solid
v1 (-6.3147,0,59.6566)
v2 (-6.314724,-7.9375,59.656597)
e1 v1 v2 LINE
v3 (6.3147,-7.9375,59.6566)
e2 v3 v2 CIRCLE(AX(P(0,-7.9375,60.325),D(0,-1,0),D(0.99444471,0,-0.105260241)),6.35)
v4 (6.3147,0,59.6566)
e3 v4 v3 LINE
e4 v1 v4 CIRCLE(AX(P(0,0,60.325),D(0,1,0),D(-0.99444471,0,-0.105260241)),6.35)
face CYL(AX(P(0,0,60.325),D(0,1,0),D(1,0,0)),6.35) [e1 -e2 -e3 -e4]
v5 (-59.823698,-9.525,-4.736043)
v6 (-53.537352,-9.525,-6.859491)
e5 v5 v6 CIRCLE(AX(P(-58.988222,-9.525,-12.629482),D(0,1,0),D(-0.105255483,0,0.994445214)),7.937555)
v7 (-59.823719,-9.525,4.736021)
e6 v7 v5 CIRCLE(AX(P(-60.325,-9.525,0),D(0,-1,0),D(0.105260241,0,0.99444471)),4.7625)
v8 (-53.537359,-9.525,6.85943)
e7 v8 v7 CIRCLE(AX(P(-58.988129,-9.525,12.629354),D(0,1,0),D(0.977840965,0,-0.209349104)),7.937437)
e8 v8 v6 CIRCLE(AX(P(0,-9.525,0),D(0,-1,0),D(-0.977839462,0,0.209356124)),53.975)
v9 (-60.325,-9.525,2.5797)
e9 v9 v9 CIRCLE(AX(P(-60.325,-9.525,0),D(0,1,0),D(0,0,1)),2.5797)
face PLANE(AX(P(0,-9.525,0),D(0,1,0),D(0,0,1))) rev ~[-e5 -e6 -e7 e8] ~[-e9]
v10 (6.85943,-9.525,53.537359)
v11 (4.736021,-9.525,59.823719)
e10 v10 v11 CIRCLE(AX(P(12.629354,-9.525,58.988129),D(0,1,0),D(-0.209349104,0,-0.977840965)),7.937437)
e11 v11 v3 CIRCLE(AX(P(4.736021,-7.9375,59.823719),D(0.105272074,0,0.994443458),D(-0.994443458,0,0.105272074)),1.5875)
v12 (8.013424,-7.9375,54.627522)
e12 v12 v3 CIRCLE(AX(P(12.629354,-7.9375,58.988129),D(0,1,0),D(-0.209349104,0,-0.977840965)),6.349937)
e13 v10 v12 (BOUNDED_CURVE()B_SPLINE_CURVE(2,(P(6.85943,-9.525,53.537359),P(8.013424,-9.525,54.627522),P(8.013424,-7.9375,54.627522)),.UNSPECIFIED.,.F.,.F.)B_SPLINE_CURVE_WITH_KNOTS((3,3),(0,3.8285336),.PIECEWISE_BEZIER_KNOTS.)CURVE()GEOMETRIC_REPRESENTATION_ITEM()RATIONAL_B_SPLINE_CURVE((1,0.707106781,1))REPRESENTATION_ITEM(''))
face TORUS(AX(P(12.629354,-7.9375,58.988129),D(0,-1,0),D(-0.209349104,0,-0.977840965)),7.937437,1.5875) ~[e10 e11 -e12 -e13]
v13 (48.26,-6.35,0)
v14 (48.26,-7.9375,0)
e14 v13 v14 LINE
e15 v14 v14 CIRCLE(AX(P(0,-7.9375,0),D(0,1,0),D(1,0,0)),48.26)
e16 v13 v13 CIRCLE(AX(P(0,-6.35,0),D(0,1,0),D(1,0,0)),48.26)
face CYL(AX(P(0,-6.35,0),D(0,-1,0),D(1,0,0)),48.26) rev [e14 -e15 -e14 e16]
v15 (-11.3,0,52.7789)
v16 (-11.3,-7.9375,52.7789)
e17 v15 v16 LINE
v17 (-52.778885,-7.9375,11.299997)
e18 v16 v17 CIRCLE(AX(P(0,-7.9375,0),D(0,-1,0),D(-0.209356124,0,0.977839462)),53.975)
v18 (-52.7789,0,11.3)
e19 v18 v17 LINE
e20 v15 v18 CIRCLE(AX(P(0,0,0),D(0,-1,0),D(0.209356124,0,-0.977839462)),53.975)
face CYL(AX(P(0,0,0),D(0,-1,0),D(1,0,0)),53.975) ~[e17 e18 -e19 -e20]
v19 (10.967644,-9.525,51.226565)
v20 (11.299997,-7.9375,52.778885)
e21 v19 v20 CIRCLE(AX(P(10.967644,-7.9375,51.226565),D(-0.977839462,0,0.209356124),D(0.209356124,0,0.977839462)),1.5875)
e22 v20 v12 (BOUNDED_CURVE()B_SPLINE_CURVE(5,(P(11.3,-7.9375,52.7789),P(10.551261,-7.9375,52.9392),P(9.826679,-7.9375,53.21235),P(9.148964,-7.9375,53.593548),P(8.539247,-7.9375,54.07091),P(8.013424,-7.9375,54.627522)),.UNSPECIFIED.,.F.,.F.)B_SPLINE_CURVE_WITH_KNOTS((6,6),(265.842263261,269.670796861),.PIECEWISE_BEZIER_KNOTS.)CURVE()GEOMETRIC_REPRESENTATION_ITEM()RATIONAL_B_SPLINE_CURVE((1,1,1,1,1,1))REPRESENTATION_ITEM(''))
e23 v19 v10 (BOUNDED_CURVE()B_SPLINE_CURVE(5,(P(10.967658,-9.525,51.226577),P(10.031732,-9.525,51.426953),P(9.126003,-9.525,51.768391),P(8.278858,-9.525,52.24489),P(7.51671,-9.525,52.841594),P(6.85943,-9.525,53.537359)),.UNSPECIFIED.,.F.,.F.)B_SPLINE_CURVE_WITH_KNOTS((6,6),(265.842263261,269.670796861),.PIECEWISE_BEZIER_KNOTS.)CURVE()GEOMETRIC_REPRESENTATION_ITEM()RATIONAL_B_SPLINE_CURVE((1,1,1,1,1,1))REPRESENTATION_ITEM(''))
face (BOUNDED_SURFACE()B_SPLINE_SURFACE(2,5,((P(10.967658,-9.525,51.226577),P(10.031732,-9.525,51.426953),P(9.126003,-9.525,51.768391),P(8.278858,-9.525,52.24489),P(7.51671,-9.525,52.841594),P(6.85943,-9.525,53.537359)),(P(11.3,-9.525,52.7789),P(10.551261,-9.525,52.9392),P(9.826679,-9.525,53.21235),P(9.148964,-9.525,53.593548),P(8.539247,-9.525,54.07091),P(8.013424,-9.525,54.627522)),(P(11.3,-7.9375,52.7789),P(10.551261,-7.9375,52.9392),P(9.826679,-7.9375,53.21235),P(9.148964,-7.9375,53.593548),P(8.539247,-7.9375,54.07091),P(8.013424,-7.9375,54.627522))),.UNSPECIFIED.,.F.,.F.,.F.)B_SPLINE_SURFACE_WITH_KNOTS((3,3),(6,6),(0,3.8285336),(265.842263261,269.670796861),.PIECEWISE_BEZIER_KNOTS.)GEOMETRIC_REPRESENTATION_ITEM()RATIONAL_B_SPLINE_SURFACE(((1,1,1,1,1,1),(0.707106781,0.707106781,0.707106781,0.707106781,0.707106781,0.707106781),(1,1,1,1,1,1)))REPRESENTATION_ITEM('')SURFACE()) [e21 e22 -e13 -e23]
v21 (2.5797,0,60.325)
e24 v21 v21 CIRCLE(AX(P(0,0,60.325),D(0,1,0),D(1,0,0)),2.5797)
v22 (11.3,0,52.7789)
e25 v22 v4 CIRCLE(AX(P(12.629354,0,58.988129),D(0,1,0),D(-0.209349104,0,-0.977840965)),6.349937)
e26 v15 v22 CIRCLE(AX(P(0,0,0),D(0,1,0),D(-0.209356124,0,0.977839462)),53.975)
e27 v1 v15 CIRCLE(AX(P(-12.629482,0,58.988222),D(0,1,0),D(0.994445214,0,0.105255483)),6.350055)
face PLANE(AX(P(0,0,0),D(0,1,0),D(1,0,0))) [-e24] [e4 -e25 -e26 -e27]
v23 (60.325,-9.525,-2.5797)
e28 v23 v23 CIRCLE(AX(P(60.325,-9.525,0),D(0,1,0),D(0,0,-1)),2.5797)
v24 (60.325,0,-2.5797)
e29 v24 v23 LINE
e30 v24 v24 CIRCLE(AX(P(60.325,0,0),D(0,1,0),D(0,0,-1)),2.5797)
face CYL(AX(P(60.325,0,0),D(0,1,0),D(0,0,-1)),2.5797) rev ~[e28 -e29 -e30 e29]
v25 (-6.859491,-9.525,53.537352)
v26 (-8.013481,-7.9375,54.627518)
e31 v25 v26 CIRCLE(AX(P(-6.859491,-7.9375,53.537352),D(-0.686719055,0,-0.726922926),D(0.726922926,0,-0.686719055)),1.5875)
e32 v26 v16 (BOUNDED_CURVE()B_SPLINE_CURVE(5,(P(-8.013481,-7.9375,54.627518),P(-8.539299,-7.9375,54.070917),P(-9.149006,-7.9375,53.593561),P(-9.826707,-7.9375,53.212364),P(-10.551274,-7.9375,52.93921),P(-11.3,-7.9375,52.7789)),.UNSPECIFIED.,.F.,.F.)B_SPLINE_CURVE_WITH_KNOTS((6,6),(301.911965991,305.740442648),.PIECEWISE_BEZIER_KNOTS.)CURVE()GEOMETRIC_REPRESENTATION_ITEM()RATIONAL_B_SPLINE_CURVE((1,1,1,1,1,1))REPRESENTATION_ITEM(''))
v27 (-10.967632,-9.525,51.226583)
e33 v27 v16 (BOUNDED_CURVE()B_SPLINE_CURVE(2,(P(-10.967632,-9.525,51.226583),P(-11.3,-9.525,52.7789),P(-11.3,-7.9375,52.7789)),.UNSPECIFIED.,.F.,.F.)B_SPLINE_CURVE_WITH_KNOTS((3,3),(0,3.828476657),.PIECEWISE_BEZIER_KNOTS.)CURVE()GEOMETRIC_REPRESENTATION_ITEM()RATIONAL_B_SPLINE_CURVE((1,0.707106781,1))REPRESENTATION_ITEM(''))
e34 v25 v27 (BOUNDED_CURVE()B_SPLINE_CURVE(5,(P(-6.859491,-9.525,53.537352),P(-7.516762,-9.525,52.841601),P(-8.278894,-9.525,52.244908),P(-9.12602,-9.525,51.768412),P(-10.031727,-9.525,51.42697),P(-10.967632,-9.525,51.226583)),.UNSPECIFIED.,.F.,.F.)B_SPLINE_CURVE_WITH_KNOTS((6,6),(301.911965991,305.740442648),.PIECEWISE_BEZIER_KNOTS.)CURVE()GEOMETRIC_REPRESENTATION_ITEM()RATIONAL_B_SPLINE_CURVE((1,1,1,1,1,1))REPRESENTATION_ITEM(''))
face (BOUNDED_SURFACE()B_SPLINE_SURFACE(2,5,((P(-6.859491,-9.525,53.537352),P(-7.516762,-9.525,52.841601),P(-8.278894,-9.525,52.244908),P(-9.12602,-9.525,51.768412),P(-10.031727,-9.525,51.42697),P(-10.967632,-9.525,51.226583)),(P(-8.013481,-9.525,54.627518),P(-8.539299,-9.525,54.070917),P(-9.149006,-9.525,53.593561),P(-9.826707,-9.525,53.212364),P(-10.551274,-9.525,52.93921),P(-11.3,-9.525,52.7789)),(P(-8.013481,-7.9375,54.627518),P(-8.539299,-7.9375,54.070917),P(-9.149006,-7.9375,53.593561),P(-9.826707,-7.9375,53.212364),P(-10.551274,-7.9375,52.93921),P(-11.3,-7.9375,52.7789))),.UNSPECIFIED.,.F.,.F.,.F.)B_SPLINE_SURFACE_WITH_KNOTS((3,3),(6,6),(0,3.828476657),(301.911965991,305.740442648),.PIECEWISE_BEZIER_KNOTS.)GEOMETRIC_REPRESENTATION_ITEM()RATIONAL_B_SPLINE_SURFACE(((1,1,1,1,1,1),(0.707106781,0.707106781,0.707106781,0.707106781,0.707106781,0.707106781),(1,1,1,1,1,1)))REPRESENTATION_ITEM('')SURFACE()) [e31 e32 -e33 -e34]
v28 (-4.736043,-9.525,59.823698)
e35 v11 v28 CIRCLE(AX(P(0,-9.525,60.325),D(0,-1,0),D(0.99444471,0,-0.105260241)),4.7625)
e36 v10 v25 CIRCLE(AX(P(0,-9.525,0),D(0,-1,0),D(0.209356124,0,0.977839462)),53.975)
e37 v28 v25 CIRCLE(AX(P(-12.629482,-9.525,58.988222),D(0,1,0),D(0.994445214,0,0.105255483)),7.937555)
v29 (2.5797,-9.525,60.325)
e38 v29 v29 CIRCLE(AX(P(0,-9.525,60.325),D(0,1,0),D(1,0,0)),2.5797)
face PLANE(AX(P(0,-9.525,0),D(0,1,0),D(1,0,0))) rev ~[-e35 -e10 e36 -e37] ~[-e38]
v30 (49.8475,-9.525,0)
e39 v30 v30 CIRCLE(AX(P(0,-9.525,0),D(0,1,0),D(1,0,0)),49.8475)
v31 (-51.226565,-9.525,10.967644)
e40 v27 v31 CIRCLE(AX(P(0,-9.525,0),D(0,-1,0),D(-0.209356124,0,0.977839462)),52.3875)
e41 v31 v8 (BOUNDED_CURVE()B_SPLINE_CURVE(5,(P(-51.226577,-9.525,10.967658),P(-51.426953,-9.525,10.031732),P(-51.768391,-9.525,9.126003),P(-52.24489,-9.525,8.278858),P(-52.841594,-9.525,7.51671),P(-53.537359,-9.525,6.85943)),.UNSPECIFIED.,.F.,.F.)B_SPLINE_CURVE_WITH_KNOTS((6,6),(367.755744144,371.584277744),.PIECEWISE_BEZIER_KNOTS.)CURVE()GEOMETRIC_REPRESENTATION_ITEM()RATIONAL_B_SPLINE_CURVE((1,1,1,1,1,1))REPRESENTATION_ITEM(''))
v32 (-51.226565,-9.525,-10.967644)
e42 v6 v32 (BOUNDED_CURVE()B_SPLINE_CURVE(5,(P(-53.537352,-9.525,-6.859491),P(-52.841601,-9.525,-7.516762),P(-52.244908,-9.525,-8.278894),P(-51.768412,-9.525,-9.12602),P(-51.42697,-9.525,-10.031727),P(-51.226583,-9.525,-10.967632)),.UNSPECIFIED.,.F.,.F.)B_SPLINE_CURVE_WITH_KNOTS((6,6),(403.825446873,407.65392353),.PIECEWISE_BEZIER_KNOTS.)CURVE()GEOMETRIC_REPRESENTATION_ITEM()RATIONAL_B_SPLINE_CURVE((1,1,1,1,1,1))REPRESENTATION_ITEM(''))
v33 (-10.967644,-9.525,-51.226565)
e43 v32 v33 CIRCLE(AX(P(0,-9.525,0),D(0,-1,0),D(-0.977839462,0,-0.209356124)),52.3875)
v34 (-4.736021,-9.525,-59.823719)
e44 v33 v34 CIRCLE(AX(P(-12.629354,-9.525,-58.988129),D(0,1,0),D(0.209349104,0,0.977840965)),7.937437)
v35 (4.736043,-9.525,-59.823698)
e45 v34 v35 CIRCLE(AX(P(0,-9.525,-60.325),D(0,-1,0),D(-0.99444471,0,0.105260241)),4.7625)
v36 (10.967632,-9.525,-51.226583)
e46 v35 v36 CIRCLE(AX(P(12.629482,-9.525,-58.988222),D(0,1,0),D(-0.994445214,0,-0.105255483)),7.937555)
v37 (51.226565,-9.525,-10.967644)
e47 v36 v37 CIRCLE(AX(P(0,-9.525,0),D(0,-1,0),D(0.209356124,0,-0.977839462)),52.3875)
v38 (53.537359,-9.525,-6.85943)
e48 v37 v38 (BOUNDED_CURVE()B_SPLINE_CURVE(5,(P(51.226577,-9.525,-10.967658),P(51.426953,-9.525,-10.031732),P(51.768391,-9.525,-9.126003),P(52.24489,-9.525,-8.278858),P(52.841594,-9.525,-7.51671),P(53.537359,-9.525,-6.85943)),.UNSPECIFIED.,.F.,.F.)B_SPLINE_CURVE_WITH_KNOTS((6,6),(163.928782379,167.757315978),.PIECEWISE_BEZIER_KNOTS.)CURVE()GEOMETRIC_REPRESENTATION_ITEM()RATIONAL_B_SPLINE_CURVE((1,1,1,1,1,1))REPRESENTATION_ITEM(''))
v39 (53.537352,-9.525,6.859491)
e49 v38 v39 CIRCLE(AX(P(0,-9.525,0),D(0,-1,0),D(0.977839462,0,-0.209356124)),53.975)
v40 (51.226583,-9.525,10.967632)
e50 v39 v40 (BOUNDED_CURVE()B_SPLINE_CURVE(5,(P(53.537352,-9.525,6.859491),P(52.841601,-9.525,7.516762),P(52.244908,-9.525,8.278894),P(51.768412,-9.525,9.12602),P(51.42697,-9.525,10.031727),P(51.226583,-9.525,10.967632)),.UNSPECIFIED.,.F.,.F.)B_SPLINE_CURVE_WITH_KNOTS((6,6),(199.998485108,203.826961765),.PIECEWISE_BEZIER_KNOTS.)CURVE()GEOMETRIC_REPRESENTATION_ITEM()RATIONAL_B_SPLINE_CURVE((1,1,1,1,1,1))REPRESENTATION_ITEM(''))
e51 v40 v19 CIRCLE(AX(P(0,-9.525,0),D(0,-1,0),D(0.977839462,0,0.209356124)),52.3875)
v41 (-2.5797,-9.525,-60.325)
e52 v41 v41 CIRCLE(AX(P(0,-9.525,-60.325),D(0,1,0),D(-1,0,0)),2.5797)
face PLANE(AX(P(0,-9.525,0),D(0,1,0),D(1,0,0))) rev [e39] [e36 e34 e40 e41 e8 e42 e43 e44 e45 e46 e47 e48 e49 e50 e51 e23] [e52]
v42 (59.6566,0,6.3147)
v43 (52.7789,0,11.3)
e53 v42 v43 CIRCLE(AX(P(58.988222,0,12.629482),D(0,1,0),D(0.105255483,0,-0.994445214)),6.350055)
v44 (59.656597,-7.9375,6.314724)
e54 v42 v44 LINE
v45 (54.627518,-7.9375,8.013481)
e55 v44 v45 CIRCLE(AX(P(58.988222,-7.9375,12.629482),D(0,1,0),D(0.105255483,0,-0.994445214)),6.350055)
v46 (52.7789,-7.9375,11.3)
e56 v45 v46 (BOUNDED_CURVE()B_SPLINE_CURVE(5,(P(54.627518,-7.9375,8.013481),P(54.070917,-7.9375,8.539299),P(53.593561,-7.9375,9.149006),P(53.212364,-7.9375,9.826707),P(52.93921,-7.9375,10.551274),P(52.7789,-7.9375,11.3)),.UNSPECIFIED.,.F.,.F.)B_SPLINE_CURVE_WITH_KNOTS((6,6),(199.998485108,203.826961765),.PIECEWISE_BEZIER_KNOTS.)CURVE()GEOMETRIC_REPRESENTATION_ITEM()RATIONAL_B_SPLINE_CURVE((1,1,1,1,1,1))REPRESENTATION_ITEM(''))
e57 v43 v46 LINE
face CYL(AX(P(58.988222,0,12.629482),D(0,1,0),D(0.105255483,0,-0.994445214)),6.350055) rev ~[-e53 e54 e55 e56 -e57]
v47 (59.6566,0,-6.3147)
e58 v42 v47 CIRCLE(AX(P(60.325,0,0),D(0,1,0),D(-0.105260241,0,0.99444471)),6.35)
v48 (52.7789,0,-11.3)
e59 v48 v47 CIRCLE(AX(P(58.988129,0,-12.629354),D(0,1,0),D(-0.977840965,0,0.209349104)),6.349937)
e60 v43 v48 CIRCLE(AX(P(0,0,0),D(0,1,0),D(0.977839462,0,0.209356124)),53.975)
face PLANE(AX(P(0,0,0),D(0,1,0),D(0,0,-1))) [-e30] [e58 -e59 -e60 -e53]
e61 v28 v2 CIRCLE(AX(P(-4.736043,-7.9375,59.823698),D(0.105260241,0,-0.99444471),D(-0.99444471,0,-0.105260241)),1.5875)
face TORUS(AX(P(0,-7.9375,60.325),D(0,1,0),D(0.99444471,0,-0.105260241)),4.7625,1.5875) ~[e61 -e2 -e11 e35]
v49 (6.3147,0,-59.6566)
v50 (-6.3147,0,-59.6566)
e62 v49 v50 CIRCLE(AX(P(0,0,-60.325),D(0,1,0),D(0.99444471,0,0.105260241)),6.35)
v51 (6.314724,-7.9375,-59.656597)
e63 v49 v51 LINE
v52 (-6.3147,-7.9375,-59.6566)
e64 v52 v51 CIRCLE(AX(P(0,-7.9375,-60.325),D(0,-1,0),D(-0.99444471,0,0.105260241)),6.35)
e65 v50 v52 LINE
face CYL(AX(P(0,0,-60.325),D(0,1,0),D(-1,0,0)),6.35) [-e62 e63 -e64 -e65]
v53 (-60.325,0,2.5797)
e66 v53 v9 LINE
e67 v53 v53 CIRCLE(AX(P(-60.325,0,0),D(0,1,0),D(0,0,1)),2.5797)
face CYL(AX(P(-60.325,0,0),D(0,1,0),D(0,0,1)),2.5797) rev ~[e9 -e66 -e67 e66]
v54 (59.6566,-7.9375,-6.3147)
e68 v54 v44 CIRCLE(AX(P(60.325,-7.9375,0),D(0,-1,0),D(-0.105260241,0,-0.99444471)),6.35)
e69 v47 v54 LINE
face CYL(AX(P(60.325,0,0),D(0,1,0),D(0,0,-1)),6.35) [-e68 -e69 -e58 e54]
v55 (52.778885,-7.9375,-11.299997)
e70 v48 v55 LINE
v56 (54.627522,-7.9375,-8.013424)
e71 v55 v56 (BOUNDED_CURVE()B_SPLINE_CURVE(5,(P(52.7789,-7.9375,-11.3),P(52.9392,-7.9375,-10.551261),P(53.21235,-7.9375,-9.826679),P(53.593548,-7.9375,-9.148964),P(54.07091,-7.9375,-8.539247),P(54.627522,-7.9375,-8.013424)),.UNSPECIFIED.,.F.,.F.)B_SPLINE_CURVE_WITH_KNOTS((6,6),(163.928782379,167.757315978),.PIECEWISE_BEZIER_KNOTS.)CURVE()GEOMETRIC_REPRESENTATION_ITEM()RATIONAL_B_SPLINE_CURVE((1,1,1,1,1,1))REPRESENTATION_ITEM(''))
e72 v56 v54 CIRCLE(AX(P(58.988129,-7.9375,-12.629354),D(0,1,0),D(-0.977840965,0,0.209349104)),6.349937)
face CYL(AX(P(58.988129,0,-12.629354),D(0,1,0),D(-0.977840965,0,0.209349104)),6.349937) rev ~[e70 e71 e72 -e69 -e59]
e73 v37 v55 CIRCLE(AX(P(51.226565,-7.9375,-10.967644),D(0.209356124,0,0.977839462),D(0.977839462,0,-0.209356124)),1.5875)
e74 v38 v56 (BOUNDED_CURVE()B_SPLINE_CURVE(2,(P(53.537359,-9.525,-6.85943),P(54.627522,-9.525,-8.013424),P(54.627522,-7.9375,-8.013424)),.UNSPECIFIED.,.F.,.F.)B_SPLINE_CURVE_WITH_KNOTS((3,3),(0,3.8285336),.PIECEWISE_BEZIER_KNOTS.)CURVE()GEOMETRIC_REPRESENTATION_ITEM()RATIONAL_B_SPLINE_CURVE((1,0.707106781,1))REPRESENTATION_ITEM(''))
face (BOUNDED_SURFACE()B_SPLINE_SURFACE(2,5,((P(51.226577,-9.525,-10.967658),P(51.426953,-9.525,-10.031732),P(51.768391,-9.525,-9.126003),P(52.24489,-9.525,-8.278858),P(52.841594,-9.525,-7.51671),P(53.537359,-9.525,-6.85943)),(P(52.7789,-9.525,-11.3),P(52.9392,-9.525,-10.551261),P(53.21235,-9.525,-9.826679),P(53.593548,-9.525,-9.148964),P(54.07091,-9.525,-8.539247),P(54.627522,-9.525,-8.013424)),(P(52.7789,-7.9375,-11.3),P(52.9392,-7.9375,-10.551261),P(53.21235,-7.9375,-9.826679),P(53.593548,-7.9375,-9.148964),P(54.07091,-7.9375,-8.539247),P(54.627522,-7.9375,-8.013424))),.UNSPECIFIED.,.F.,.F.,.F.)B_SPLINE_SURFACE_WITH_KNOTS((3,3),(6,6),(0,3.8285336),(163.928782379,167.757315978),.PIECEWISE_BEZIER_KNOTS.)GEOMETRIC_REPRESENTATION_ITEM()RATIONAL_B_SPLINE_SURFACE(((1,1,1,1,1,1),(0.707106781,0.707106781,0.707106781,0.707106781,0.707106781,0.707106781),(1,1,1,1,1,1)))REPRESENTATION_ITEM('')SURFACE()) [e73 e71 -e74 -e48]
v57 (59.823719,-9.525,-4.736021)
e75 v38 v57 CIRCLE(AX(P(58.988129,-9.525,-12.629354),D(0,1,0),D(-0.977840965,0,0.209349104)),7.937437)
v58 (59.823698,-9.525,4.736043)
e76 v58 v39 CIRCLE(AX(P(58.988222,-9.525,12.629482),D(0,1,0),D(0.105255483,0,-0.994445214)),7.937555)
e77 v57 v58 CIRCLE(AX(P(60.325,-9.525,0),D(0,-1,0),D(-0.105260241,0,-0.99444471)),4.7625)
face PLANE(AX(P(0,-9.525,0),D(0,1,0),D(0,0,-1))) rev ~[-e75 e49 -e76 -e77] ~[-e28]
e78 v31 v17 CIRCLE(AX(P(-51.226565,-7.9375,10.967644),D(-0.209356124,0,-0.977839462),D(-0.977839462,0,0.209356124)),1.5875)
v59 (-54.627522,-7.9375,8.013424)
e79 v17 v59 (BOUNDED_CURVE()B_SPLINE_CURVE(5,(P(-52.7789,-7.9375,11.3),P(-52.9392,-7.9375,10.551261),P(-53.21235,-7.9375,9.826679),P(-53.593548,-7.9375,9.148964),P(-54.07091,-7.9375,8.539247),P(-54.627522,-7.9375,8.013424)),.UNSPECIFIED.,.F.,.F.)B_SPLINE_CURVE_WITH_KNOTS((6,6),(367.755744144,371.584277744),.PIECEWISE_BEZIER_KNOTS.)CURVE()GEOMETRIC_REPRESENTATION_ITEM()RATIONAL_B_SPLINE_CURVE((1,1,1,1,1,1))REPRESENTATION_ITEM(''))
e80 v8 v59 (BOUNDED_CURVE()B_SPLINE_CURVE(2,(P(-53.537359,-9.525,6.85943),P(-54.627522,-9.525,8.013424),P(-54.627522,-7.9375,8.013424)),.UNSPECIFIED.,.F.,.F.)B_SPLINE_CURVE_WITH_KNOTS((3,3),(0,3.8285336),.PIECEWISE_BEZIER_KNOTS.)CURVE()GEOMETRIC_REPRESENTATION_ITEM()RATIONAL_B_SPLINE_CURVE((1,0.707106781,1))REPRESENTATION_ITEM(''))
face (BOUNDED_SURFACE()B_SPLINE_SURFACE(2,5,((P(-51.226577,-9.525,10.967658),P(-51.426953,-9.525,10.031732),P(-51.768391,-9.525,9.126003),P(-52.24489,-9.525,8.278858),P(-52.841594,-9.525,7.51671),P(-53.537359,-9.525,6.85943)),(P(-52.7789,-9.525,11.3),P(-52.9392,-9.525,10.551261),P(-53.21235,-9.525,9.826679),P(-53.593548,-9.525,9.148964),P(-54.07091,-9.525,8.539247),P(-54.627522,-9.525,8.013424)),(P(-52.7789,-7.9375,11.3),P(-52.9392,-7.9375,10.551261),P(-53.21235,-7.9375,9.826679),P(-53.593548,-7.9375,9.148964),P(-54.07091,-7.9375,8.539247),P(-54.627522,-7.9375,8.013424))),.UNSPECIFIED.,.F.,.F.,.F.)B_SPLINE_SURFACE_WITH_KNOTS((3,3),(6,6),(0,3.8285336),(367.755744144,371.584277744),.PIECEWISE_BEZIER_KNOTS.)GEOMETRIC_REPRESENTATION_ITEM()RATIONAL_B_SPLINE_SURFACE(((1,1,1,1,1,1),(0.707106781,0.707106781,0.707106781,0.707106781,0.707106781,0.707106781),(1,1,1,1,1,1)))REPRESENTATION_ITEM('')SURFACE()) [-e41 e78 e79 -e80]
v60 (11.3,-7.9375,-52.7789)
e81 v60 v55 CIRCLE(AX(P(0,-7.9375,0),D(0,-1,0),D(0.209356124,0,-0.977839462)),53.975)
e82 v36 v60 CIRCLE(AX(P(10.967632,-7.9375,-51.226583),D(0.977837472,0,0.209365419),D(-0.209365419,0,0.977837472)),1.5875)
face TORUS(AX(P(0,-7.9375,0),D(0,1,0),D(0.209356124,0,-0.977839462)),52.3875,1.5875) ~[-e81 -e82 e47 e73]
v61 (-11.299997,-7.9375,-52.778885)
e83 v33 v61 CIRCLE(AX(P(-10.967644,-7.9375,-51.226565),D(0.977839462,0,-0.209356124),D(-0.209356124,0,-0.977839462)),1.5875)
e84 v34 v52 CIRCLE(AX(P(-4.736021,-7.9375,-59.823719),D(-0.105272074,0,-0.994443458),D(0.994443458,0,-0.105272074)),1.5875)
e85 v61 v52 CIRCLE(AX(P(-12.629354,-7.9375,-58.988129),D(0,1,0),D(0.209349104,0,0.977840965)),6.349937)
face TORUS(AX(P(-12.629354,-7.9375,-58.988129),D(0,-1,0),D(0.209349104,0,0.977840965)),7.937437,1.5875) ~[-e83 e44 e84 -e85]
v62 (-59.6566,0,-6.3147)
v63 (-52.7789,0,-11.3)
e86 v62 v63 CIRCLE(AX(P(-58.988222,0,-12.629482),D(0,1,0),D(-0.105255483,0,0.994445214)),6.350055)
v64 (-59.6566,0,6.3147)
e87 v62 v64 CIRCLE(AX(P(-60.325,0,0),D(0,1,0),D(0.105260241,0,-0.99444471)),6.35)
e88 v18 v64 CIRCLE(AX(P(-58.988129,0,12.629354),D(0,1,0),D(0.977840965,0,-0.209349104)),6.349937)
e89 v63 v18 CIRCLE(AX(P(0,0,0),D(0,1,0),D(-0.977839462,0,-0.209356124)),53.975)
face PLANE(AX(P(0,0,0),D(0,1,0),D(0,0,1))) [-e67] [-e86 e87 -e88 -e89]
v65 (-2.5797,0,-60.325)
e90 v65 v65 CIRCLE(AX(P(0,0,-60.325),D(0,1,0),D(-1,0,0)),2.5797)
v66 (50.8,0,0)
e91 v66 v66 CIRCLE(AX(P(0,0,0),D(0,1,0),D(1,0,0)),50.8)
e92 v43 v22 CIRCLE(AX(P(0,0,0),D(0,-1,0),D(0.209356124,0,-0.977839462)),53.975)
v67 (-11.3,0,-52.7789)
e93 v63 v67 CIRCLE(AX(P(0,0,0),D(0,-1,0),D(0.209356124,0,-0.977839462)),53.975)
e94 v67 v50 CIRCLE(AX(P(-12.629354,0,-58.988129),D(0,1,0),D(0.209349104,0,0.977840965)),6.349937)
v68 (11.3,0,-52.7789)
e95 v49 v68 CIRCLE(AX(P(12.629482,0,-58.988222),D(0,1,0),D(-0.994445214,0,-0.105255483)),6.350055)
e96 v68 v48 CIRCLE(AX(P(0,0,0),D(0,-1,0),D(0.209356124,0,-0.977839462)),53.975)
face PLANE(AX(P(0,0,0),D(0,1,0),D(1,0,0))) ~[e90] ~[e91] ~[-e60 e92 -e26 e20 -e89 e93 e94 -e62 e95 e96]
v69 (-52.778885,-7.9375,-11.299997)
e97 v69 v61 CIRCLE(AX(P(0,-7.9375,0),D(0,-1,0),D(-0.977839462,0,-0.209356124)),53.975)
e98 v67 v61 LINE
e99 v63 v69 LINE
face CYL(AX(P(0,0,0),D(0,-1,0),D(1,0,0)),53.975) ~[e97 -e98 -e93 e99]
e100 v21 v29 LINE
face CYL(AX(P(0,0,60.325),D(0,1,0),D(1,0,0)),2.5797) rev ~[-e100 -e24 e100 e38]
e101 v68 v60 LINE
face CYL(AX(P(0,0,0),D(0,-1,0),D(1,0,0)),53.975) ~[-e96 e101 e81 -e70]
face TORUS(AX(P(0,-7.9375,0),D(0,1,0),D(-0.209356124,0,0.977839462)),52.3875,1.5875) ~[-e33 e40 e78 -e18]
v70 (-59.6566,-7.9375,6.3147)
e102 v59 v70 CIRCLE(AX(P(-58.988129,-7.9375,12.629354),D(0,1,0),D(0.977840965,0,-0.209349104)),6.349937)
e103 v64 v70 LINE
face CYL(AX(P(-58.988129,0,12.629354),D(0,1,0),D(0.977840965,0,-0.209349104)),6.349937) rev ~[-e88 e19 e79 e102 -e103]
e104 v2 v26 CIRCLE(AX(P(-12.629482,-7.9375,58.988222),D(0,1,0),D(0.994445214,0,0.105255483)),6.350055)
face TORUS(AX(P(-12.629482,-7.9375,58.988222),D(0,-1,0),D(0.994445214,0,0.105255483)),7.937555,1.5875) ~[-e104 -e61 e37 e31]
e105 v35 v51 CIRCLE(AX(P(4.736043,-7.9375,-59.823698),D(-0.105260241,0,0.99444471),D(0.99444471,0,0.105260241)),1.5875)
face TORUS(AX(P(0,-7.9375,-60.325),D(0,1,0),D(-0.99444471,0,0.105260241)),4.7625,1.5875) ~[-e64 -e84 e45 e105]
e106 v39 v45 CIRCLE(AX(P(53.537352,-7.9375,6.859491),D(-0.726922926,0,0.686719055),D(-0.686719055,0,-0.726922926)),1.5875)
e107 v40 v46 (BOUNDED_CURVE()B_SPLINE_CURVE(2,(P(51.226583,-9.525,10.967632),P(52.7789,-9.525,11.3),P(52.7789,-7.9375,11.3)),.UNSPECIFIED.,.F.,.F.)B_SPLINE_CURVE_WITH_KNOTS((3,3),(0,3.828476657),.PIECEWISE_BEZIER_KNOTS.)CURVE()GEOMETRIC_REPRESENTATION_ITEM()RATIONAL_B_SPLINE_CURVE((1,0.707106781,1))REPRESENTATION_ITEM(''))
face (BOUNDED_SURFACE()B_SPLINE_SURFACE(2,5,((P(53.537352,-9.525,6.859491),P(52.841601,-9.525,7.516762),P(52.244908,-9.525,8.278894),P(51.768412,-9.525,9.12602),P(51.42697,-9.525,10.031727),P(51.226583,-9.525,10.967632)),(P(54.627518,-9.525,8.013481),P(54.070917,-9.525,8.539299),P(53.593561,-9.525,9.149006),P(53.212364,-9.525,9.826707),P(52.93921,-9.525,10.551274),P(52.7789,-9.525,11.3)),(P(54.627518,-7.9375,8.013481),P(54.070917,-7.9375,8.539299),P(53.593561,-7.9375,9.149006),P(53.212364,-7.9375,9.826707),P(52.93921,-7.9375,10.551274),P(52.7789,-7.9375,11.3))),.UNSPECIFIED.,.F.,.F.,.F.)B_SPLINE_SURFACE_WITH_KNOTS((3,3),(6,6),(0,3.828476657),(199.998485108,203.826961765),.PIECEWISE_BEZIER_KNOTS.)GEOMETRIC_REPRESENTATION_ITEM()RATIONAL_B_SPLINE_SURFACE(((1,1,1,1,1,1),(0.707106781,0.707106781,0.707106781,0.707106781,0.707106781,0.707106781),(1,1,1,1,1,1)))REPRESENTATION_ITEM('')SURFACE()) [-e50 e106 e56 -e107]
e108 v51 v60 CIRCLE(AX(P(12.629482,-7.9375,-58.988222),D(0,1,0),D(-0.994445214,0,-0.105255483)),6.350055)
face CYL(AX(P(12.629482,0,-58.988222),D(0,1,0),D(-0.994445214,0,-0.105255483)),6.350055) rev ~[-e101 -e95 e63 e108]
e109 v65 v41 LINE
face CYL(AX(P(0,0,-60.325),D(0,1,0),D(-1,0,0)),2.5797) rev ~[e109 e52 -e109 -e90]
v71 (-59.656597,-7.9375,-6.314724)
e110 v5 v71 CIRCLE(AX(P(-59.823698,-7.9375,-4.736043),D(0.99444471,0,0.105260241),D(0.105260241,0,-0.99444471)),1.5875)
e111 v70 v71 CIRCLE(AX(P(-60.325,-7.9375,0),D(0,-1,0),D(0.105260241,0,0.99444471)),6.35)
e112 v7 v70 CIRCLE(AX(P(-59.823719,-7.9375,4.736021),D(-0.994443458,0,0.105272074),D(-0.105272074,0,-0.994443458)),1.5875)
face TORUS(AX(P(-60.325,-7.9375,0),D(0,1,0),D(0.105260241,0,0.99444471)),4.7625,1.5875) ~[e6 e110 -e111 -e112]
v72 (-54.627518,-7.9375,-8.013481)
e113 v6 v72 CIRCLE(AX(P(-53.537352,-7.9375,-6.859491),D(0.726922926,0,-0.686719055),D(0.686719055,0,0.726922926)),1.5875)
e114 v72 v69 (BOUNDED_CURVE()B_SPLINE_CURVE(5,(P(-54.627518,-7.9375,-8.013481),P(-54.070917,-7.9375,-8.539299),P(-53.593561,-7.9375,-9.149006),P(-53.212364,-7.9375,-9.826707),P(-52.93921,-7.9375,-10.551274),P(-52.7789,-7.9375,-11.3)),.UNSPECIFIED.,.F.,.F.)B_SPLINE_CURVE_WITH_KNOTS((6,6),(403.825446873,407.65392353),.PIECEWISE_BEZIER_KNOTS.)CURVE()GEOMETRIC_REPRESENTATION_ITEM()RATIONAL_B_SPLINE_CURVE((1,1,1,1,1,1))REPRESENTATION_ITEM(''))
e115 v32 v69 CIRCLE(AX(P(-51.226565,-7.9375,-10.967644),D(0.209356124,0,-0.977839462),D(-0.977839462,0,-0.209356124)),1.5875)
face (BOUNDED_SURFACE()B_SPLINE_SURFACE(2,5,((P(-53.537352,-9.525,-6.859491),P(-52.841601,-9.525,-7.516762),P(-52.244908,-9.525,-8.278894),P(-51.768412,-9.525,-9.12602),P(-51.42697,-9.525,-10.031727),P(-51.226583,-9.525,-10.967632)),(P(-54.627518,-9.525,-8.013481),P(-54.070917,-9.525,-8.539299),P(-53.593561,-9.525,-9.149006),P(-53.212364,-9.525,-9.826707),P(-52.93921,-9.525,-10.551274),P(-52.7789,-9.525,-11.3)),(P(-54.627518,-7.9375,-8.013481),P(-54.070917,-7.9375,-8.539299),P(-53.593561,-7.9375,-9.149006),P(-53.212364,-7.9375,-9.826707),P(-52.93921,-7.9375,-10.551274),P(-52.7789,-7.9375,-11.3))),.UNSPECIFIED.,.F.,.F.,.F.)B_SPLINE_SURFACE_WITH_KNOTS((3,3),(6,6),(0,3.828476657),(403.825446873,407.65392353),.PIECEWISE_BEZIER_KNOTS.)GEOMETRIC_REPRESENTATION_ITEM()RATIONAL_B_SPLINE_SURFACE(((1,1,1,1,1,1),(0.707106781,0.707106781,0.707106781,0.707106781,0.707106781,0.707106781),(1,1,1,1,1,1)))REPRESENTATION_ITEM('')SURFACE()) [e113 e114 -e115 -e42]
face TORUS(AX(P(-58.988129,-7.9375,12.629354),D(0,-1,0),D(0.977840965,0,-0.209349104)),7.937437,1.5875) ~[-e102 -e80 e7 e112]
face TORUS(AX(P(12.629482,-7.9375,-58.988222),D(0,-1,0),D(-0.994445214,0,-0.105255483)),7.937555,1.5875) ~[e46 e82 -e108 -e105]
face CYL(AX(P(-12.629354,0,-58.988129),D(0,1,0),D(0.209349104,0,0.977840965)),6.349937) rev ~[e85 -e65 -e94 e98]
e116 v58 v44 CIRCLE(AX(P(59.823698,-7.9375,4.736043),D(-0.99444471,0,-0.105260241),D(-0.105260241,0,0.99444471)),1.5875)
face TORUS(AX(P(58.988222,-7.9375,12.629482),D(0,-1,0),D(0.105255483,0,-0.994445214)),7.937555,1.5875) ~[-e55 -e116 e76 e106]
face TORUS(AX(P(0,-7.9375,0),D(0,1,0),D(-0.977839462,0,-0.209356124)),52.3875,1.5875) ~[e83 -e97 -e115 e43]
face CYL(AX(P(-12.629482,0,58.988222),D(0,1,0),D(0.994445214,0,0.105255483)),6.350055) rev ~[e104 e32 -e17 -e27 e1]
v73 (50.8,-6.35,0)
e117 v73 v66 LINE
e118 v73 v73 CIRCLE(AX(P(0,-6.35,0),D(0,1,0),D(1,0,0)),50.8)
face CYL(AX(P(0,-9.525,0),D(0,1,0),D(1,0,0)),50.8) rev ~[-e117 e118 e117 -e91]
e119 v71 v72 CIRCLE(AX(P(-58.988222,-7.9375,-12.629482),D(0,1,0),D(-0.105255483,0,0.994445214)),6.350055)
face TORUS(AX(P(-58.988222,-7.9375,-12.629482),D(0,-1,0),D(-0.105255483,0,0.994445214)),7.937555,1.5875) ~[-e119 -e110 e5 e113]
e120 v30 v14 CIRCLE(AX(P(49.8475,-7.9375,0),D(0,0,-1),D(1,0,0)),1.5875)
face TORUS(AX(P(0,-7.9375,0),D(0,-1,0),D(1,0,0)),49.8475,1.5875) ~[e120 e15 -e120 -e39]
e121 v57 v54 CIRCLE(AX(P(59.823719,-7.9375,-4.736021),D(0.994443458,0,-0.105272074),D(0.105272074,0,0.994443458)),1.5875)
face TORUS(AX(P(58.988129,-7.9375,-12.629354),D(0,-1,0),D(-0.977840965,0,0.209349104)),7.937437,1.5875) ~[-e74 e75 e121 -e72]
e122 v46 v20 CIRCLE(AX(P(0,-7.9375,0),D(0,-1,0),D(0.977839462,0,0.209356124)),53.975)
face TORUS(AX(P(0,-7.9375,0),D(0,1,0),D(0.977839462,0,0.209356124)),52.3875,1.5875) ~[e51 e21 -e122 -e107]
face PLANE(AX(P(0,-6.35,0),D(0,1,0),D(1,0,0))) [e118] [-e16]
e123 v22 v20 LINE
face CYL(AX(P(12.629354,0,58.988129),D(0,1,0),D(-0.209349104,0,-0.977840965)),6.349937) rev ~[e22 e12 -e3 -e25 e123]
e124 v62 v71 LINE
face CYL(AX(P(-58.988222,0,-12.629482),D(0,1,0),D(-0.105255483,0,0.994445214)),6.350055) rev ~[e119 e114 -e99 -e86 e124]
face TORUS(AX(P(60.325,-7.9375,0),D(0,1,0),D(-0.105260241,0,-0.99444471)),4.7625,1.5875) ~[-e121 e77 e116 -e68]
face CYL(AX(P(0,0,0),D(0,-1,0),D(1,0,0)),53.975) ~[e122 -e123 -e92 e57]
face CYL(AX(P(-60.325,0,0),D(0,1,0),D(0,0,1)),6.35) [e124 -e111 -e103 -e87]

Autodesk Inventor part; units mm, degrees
ref_plane "YZ Plane" through (0, 0, 0) normal (1, 0, 0) x (0, 1, 0)
ref_plane "XZ Plane" through (0, 0, 0) normal (0, 1, 0) x (-1, 0, 0)
ref_plane "XY Plane" through (0, 0, 0) normal (0, 0, 1) x (1, 0, 0)
sketch "Sketch1" plane through (0, 0, 0) normal (0, 0, 1) x (1, 0, 0)
  line L0 (0, 0) -> (50.8, 0) construction
  line L1 (50.8, 0) -> (50.8, -6.35) construction
  line L2 (50.8, -6.35) -> (0, -6.35) construction
  line L3 (0, -6.35) -> (0, 0) construction
  line L4 (50.8, -6.35) -> (48.26, -6.35)
  line L5 (48.26, -6.35) -> (48.26, -9.525)
  line L6 (48.26, -9.525) -> (50.8, -9.525)
  line L7 (50.8, -9.525) -> (50.8, -6.35)
  line L8 (50.8, 0) -> (53.975, 0)
  line L9 (53.975, 0) -> (53.975, -9.525)
  line L10 (53.975, -9.525) -> (50.8, -9.525)
  line L11 (50.8, -9.525) -> (50.8, 0)
  dimension "d0" = 50.8
  dimension "d2" = 6.35
  dimension "d3" = 2.54
  dimension "d4" = 3.175
  dimension "d5" = 9.525
revolve "Revolution1" add sketch "Sketch1" angle 360 about axis through (0, -6.35, 0) along (0, 1, 0)
sketch "Sketch2" plane through (0, 0, 0) normal (0, 1, 0) x (-1, 0, 0)
  circle A0 centre (0, 0) radius 53.975 projected
  circle A1 centre (0, -60.325) radius 6.35
  circle A2 centre (0, 0) radius 53.975 projected
  circle A3 centre (12.6294, -58.9882) radius 6.35 construction
  circle A4 centre (-12.6294, -58.9882) radius 6.35 construction
  circle A5 centre (0, -60.325) radius 2.5797
  arc A6 (11.3, -52.7789) -> (6.3147, -59.6566) centre (12.6294, -58.9882) ccw
  arc A7 (-6.3147, -59.6566) -> (-11.3, -52.7789) centre (-12.6294, -58.9882) ccw
  point P0 (11.3, -52.7789)
  point P1 (-11.3, -52.7789)
  dimension "d7" = 5.1594
  dimension "d14" = 12.7
extrude "Extrusion1" add sketch "Sketch2" against normal up to surface (9.525 mm away) contours A0 A1 A7 | A6 A1 A0 | A1
pattern_circular "Circular Pattern1" count 4 over 360 about axis through (0, -10, 0) along (0, 1, 0) of "Extrusion1"
fillet "Fillet1" radius 1.5875 5 edges at (-48.26, -9.525, 0) (-38.1661, -9.525, -38.1661) (-38.1661, -9.525, 38.1661) (38.1661, -9.525, 38.1661) (38.1661, -9.525, -38.1661)
properties part number "BearingClamp" material "ABS Plastic"
